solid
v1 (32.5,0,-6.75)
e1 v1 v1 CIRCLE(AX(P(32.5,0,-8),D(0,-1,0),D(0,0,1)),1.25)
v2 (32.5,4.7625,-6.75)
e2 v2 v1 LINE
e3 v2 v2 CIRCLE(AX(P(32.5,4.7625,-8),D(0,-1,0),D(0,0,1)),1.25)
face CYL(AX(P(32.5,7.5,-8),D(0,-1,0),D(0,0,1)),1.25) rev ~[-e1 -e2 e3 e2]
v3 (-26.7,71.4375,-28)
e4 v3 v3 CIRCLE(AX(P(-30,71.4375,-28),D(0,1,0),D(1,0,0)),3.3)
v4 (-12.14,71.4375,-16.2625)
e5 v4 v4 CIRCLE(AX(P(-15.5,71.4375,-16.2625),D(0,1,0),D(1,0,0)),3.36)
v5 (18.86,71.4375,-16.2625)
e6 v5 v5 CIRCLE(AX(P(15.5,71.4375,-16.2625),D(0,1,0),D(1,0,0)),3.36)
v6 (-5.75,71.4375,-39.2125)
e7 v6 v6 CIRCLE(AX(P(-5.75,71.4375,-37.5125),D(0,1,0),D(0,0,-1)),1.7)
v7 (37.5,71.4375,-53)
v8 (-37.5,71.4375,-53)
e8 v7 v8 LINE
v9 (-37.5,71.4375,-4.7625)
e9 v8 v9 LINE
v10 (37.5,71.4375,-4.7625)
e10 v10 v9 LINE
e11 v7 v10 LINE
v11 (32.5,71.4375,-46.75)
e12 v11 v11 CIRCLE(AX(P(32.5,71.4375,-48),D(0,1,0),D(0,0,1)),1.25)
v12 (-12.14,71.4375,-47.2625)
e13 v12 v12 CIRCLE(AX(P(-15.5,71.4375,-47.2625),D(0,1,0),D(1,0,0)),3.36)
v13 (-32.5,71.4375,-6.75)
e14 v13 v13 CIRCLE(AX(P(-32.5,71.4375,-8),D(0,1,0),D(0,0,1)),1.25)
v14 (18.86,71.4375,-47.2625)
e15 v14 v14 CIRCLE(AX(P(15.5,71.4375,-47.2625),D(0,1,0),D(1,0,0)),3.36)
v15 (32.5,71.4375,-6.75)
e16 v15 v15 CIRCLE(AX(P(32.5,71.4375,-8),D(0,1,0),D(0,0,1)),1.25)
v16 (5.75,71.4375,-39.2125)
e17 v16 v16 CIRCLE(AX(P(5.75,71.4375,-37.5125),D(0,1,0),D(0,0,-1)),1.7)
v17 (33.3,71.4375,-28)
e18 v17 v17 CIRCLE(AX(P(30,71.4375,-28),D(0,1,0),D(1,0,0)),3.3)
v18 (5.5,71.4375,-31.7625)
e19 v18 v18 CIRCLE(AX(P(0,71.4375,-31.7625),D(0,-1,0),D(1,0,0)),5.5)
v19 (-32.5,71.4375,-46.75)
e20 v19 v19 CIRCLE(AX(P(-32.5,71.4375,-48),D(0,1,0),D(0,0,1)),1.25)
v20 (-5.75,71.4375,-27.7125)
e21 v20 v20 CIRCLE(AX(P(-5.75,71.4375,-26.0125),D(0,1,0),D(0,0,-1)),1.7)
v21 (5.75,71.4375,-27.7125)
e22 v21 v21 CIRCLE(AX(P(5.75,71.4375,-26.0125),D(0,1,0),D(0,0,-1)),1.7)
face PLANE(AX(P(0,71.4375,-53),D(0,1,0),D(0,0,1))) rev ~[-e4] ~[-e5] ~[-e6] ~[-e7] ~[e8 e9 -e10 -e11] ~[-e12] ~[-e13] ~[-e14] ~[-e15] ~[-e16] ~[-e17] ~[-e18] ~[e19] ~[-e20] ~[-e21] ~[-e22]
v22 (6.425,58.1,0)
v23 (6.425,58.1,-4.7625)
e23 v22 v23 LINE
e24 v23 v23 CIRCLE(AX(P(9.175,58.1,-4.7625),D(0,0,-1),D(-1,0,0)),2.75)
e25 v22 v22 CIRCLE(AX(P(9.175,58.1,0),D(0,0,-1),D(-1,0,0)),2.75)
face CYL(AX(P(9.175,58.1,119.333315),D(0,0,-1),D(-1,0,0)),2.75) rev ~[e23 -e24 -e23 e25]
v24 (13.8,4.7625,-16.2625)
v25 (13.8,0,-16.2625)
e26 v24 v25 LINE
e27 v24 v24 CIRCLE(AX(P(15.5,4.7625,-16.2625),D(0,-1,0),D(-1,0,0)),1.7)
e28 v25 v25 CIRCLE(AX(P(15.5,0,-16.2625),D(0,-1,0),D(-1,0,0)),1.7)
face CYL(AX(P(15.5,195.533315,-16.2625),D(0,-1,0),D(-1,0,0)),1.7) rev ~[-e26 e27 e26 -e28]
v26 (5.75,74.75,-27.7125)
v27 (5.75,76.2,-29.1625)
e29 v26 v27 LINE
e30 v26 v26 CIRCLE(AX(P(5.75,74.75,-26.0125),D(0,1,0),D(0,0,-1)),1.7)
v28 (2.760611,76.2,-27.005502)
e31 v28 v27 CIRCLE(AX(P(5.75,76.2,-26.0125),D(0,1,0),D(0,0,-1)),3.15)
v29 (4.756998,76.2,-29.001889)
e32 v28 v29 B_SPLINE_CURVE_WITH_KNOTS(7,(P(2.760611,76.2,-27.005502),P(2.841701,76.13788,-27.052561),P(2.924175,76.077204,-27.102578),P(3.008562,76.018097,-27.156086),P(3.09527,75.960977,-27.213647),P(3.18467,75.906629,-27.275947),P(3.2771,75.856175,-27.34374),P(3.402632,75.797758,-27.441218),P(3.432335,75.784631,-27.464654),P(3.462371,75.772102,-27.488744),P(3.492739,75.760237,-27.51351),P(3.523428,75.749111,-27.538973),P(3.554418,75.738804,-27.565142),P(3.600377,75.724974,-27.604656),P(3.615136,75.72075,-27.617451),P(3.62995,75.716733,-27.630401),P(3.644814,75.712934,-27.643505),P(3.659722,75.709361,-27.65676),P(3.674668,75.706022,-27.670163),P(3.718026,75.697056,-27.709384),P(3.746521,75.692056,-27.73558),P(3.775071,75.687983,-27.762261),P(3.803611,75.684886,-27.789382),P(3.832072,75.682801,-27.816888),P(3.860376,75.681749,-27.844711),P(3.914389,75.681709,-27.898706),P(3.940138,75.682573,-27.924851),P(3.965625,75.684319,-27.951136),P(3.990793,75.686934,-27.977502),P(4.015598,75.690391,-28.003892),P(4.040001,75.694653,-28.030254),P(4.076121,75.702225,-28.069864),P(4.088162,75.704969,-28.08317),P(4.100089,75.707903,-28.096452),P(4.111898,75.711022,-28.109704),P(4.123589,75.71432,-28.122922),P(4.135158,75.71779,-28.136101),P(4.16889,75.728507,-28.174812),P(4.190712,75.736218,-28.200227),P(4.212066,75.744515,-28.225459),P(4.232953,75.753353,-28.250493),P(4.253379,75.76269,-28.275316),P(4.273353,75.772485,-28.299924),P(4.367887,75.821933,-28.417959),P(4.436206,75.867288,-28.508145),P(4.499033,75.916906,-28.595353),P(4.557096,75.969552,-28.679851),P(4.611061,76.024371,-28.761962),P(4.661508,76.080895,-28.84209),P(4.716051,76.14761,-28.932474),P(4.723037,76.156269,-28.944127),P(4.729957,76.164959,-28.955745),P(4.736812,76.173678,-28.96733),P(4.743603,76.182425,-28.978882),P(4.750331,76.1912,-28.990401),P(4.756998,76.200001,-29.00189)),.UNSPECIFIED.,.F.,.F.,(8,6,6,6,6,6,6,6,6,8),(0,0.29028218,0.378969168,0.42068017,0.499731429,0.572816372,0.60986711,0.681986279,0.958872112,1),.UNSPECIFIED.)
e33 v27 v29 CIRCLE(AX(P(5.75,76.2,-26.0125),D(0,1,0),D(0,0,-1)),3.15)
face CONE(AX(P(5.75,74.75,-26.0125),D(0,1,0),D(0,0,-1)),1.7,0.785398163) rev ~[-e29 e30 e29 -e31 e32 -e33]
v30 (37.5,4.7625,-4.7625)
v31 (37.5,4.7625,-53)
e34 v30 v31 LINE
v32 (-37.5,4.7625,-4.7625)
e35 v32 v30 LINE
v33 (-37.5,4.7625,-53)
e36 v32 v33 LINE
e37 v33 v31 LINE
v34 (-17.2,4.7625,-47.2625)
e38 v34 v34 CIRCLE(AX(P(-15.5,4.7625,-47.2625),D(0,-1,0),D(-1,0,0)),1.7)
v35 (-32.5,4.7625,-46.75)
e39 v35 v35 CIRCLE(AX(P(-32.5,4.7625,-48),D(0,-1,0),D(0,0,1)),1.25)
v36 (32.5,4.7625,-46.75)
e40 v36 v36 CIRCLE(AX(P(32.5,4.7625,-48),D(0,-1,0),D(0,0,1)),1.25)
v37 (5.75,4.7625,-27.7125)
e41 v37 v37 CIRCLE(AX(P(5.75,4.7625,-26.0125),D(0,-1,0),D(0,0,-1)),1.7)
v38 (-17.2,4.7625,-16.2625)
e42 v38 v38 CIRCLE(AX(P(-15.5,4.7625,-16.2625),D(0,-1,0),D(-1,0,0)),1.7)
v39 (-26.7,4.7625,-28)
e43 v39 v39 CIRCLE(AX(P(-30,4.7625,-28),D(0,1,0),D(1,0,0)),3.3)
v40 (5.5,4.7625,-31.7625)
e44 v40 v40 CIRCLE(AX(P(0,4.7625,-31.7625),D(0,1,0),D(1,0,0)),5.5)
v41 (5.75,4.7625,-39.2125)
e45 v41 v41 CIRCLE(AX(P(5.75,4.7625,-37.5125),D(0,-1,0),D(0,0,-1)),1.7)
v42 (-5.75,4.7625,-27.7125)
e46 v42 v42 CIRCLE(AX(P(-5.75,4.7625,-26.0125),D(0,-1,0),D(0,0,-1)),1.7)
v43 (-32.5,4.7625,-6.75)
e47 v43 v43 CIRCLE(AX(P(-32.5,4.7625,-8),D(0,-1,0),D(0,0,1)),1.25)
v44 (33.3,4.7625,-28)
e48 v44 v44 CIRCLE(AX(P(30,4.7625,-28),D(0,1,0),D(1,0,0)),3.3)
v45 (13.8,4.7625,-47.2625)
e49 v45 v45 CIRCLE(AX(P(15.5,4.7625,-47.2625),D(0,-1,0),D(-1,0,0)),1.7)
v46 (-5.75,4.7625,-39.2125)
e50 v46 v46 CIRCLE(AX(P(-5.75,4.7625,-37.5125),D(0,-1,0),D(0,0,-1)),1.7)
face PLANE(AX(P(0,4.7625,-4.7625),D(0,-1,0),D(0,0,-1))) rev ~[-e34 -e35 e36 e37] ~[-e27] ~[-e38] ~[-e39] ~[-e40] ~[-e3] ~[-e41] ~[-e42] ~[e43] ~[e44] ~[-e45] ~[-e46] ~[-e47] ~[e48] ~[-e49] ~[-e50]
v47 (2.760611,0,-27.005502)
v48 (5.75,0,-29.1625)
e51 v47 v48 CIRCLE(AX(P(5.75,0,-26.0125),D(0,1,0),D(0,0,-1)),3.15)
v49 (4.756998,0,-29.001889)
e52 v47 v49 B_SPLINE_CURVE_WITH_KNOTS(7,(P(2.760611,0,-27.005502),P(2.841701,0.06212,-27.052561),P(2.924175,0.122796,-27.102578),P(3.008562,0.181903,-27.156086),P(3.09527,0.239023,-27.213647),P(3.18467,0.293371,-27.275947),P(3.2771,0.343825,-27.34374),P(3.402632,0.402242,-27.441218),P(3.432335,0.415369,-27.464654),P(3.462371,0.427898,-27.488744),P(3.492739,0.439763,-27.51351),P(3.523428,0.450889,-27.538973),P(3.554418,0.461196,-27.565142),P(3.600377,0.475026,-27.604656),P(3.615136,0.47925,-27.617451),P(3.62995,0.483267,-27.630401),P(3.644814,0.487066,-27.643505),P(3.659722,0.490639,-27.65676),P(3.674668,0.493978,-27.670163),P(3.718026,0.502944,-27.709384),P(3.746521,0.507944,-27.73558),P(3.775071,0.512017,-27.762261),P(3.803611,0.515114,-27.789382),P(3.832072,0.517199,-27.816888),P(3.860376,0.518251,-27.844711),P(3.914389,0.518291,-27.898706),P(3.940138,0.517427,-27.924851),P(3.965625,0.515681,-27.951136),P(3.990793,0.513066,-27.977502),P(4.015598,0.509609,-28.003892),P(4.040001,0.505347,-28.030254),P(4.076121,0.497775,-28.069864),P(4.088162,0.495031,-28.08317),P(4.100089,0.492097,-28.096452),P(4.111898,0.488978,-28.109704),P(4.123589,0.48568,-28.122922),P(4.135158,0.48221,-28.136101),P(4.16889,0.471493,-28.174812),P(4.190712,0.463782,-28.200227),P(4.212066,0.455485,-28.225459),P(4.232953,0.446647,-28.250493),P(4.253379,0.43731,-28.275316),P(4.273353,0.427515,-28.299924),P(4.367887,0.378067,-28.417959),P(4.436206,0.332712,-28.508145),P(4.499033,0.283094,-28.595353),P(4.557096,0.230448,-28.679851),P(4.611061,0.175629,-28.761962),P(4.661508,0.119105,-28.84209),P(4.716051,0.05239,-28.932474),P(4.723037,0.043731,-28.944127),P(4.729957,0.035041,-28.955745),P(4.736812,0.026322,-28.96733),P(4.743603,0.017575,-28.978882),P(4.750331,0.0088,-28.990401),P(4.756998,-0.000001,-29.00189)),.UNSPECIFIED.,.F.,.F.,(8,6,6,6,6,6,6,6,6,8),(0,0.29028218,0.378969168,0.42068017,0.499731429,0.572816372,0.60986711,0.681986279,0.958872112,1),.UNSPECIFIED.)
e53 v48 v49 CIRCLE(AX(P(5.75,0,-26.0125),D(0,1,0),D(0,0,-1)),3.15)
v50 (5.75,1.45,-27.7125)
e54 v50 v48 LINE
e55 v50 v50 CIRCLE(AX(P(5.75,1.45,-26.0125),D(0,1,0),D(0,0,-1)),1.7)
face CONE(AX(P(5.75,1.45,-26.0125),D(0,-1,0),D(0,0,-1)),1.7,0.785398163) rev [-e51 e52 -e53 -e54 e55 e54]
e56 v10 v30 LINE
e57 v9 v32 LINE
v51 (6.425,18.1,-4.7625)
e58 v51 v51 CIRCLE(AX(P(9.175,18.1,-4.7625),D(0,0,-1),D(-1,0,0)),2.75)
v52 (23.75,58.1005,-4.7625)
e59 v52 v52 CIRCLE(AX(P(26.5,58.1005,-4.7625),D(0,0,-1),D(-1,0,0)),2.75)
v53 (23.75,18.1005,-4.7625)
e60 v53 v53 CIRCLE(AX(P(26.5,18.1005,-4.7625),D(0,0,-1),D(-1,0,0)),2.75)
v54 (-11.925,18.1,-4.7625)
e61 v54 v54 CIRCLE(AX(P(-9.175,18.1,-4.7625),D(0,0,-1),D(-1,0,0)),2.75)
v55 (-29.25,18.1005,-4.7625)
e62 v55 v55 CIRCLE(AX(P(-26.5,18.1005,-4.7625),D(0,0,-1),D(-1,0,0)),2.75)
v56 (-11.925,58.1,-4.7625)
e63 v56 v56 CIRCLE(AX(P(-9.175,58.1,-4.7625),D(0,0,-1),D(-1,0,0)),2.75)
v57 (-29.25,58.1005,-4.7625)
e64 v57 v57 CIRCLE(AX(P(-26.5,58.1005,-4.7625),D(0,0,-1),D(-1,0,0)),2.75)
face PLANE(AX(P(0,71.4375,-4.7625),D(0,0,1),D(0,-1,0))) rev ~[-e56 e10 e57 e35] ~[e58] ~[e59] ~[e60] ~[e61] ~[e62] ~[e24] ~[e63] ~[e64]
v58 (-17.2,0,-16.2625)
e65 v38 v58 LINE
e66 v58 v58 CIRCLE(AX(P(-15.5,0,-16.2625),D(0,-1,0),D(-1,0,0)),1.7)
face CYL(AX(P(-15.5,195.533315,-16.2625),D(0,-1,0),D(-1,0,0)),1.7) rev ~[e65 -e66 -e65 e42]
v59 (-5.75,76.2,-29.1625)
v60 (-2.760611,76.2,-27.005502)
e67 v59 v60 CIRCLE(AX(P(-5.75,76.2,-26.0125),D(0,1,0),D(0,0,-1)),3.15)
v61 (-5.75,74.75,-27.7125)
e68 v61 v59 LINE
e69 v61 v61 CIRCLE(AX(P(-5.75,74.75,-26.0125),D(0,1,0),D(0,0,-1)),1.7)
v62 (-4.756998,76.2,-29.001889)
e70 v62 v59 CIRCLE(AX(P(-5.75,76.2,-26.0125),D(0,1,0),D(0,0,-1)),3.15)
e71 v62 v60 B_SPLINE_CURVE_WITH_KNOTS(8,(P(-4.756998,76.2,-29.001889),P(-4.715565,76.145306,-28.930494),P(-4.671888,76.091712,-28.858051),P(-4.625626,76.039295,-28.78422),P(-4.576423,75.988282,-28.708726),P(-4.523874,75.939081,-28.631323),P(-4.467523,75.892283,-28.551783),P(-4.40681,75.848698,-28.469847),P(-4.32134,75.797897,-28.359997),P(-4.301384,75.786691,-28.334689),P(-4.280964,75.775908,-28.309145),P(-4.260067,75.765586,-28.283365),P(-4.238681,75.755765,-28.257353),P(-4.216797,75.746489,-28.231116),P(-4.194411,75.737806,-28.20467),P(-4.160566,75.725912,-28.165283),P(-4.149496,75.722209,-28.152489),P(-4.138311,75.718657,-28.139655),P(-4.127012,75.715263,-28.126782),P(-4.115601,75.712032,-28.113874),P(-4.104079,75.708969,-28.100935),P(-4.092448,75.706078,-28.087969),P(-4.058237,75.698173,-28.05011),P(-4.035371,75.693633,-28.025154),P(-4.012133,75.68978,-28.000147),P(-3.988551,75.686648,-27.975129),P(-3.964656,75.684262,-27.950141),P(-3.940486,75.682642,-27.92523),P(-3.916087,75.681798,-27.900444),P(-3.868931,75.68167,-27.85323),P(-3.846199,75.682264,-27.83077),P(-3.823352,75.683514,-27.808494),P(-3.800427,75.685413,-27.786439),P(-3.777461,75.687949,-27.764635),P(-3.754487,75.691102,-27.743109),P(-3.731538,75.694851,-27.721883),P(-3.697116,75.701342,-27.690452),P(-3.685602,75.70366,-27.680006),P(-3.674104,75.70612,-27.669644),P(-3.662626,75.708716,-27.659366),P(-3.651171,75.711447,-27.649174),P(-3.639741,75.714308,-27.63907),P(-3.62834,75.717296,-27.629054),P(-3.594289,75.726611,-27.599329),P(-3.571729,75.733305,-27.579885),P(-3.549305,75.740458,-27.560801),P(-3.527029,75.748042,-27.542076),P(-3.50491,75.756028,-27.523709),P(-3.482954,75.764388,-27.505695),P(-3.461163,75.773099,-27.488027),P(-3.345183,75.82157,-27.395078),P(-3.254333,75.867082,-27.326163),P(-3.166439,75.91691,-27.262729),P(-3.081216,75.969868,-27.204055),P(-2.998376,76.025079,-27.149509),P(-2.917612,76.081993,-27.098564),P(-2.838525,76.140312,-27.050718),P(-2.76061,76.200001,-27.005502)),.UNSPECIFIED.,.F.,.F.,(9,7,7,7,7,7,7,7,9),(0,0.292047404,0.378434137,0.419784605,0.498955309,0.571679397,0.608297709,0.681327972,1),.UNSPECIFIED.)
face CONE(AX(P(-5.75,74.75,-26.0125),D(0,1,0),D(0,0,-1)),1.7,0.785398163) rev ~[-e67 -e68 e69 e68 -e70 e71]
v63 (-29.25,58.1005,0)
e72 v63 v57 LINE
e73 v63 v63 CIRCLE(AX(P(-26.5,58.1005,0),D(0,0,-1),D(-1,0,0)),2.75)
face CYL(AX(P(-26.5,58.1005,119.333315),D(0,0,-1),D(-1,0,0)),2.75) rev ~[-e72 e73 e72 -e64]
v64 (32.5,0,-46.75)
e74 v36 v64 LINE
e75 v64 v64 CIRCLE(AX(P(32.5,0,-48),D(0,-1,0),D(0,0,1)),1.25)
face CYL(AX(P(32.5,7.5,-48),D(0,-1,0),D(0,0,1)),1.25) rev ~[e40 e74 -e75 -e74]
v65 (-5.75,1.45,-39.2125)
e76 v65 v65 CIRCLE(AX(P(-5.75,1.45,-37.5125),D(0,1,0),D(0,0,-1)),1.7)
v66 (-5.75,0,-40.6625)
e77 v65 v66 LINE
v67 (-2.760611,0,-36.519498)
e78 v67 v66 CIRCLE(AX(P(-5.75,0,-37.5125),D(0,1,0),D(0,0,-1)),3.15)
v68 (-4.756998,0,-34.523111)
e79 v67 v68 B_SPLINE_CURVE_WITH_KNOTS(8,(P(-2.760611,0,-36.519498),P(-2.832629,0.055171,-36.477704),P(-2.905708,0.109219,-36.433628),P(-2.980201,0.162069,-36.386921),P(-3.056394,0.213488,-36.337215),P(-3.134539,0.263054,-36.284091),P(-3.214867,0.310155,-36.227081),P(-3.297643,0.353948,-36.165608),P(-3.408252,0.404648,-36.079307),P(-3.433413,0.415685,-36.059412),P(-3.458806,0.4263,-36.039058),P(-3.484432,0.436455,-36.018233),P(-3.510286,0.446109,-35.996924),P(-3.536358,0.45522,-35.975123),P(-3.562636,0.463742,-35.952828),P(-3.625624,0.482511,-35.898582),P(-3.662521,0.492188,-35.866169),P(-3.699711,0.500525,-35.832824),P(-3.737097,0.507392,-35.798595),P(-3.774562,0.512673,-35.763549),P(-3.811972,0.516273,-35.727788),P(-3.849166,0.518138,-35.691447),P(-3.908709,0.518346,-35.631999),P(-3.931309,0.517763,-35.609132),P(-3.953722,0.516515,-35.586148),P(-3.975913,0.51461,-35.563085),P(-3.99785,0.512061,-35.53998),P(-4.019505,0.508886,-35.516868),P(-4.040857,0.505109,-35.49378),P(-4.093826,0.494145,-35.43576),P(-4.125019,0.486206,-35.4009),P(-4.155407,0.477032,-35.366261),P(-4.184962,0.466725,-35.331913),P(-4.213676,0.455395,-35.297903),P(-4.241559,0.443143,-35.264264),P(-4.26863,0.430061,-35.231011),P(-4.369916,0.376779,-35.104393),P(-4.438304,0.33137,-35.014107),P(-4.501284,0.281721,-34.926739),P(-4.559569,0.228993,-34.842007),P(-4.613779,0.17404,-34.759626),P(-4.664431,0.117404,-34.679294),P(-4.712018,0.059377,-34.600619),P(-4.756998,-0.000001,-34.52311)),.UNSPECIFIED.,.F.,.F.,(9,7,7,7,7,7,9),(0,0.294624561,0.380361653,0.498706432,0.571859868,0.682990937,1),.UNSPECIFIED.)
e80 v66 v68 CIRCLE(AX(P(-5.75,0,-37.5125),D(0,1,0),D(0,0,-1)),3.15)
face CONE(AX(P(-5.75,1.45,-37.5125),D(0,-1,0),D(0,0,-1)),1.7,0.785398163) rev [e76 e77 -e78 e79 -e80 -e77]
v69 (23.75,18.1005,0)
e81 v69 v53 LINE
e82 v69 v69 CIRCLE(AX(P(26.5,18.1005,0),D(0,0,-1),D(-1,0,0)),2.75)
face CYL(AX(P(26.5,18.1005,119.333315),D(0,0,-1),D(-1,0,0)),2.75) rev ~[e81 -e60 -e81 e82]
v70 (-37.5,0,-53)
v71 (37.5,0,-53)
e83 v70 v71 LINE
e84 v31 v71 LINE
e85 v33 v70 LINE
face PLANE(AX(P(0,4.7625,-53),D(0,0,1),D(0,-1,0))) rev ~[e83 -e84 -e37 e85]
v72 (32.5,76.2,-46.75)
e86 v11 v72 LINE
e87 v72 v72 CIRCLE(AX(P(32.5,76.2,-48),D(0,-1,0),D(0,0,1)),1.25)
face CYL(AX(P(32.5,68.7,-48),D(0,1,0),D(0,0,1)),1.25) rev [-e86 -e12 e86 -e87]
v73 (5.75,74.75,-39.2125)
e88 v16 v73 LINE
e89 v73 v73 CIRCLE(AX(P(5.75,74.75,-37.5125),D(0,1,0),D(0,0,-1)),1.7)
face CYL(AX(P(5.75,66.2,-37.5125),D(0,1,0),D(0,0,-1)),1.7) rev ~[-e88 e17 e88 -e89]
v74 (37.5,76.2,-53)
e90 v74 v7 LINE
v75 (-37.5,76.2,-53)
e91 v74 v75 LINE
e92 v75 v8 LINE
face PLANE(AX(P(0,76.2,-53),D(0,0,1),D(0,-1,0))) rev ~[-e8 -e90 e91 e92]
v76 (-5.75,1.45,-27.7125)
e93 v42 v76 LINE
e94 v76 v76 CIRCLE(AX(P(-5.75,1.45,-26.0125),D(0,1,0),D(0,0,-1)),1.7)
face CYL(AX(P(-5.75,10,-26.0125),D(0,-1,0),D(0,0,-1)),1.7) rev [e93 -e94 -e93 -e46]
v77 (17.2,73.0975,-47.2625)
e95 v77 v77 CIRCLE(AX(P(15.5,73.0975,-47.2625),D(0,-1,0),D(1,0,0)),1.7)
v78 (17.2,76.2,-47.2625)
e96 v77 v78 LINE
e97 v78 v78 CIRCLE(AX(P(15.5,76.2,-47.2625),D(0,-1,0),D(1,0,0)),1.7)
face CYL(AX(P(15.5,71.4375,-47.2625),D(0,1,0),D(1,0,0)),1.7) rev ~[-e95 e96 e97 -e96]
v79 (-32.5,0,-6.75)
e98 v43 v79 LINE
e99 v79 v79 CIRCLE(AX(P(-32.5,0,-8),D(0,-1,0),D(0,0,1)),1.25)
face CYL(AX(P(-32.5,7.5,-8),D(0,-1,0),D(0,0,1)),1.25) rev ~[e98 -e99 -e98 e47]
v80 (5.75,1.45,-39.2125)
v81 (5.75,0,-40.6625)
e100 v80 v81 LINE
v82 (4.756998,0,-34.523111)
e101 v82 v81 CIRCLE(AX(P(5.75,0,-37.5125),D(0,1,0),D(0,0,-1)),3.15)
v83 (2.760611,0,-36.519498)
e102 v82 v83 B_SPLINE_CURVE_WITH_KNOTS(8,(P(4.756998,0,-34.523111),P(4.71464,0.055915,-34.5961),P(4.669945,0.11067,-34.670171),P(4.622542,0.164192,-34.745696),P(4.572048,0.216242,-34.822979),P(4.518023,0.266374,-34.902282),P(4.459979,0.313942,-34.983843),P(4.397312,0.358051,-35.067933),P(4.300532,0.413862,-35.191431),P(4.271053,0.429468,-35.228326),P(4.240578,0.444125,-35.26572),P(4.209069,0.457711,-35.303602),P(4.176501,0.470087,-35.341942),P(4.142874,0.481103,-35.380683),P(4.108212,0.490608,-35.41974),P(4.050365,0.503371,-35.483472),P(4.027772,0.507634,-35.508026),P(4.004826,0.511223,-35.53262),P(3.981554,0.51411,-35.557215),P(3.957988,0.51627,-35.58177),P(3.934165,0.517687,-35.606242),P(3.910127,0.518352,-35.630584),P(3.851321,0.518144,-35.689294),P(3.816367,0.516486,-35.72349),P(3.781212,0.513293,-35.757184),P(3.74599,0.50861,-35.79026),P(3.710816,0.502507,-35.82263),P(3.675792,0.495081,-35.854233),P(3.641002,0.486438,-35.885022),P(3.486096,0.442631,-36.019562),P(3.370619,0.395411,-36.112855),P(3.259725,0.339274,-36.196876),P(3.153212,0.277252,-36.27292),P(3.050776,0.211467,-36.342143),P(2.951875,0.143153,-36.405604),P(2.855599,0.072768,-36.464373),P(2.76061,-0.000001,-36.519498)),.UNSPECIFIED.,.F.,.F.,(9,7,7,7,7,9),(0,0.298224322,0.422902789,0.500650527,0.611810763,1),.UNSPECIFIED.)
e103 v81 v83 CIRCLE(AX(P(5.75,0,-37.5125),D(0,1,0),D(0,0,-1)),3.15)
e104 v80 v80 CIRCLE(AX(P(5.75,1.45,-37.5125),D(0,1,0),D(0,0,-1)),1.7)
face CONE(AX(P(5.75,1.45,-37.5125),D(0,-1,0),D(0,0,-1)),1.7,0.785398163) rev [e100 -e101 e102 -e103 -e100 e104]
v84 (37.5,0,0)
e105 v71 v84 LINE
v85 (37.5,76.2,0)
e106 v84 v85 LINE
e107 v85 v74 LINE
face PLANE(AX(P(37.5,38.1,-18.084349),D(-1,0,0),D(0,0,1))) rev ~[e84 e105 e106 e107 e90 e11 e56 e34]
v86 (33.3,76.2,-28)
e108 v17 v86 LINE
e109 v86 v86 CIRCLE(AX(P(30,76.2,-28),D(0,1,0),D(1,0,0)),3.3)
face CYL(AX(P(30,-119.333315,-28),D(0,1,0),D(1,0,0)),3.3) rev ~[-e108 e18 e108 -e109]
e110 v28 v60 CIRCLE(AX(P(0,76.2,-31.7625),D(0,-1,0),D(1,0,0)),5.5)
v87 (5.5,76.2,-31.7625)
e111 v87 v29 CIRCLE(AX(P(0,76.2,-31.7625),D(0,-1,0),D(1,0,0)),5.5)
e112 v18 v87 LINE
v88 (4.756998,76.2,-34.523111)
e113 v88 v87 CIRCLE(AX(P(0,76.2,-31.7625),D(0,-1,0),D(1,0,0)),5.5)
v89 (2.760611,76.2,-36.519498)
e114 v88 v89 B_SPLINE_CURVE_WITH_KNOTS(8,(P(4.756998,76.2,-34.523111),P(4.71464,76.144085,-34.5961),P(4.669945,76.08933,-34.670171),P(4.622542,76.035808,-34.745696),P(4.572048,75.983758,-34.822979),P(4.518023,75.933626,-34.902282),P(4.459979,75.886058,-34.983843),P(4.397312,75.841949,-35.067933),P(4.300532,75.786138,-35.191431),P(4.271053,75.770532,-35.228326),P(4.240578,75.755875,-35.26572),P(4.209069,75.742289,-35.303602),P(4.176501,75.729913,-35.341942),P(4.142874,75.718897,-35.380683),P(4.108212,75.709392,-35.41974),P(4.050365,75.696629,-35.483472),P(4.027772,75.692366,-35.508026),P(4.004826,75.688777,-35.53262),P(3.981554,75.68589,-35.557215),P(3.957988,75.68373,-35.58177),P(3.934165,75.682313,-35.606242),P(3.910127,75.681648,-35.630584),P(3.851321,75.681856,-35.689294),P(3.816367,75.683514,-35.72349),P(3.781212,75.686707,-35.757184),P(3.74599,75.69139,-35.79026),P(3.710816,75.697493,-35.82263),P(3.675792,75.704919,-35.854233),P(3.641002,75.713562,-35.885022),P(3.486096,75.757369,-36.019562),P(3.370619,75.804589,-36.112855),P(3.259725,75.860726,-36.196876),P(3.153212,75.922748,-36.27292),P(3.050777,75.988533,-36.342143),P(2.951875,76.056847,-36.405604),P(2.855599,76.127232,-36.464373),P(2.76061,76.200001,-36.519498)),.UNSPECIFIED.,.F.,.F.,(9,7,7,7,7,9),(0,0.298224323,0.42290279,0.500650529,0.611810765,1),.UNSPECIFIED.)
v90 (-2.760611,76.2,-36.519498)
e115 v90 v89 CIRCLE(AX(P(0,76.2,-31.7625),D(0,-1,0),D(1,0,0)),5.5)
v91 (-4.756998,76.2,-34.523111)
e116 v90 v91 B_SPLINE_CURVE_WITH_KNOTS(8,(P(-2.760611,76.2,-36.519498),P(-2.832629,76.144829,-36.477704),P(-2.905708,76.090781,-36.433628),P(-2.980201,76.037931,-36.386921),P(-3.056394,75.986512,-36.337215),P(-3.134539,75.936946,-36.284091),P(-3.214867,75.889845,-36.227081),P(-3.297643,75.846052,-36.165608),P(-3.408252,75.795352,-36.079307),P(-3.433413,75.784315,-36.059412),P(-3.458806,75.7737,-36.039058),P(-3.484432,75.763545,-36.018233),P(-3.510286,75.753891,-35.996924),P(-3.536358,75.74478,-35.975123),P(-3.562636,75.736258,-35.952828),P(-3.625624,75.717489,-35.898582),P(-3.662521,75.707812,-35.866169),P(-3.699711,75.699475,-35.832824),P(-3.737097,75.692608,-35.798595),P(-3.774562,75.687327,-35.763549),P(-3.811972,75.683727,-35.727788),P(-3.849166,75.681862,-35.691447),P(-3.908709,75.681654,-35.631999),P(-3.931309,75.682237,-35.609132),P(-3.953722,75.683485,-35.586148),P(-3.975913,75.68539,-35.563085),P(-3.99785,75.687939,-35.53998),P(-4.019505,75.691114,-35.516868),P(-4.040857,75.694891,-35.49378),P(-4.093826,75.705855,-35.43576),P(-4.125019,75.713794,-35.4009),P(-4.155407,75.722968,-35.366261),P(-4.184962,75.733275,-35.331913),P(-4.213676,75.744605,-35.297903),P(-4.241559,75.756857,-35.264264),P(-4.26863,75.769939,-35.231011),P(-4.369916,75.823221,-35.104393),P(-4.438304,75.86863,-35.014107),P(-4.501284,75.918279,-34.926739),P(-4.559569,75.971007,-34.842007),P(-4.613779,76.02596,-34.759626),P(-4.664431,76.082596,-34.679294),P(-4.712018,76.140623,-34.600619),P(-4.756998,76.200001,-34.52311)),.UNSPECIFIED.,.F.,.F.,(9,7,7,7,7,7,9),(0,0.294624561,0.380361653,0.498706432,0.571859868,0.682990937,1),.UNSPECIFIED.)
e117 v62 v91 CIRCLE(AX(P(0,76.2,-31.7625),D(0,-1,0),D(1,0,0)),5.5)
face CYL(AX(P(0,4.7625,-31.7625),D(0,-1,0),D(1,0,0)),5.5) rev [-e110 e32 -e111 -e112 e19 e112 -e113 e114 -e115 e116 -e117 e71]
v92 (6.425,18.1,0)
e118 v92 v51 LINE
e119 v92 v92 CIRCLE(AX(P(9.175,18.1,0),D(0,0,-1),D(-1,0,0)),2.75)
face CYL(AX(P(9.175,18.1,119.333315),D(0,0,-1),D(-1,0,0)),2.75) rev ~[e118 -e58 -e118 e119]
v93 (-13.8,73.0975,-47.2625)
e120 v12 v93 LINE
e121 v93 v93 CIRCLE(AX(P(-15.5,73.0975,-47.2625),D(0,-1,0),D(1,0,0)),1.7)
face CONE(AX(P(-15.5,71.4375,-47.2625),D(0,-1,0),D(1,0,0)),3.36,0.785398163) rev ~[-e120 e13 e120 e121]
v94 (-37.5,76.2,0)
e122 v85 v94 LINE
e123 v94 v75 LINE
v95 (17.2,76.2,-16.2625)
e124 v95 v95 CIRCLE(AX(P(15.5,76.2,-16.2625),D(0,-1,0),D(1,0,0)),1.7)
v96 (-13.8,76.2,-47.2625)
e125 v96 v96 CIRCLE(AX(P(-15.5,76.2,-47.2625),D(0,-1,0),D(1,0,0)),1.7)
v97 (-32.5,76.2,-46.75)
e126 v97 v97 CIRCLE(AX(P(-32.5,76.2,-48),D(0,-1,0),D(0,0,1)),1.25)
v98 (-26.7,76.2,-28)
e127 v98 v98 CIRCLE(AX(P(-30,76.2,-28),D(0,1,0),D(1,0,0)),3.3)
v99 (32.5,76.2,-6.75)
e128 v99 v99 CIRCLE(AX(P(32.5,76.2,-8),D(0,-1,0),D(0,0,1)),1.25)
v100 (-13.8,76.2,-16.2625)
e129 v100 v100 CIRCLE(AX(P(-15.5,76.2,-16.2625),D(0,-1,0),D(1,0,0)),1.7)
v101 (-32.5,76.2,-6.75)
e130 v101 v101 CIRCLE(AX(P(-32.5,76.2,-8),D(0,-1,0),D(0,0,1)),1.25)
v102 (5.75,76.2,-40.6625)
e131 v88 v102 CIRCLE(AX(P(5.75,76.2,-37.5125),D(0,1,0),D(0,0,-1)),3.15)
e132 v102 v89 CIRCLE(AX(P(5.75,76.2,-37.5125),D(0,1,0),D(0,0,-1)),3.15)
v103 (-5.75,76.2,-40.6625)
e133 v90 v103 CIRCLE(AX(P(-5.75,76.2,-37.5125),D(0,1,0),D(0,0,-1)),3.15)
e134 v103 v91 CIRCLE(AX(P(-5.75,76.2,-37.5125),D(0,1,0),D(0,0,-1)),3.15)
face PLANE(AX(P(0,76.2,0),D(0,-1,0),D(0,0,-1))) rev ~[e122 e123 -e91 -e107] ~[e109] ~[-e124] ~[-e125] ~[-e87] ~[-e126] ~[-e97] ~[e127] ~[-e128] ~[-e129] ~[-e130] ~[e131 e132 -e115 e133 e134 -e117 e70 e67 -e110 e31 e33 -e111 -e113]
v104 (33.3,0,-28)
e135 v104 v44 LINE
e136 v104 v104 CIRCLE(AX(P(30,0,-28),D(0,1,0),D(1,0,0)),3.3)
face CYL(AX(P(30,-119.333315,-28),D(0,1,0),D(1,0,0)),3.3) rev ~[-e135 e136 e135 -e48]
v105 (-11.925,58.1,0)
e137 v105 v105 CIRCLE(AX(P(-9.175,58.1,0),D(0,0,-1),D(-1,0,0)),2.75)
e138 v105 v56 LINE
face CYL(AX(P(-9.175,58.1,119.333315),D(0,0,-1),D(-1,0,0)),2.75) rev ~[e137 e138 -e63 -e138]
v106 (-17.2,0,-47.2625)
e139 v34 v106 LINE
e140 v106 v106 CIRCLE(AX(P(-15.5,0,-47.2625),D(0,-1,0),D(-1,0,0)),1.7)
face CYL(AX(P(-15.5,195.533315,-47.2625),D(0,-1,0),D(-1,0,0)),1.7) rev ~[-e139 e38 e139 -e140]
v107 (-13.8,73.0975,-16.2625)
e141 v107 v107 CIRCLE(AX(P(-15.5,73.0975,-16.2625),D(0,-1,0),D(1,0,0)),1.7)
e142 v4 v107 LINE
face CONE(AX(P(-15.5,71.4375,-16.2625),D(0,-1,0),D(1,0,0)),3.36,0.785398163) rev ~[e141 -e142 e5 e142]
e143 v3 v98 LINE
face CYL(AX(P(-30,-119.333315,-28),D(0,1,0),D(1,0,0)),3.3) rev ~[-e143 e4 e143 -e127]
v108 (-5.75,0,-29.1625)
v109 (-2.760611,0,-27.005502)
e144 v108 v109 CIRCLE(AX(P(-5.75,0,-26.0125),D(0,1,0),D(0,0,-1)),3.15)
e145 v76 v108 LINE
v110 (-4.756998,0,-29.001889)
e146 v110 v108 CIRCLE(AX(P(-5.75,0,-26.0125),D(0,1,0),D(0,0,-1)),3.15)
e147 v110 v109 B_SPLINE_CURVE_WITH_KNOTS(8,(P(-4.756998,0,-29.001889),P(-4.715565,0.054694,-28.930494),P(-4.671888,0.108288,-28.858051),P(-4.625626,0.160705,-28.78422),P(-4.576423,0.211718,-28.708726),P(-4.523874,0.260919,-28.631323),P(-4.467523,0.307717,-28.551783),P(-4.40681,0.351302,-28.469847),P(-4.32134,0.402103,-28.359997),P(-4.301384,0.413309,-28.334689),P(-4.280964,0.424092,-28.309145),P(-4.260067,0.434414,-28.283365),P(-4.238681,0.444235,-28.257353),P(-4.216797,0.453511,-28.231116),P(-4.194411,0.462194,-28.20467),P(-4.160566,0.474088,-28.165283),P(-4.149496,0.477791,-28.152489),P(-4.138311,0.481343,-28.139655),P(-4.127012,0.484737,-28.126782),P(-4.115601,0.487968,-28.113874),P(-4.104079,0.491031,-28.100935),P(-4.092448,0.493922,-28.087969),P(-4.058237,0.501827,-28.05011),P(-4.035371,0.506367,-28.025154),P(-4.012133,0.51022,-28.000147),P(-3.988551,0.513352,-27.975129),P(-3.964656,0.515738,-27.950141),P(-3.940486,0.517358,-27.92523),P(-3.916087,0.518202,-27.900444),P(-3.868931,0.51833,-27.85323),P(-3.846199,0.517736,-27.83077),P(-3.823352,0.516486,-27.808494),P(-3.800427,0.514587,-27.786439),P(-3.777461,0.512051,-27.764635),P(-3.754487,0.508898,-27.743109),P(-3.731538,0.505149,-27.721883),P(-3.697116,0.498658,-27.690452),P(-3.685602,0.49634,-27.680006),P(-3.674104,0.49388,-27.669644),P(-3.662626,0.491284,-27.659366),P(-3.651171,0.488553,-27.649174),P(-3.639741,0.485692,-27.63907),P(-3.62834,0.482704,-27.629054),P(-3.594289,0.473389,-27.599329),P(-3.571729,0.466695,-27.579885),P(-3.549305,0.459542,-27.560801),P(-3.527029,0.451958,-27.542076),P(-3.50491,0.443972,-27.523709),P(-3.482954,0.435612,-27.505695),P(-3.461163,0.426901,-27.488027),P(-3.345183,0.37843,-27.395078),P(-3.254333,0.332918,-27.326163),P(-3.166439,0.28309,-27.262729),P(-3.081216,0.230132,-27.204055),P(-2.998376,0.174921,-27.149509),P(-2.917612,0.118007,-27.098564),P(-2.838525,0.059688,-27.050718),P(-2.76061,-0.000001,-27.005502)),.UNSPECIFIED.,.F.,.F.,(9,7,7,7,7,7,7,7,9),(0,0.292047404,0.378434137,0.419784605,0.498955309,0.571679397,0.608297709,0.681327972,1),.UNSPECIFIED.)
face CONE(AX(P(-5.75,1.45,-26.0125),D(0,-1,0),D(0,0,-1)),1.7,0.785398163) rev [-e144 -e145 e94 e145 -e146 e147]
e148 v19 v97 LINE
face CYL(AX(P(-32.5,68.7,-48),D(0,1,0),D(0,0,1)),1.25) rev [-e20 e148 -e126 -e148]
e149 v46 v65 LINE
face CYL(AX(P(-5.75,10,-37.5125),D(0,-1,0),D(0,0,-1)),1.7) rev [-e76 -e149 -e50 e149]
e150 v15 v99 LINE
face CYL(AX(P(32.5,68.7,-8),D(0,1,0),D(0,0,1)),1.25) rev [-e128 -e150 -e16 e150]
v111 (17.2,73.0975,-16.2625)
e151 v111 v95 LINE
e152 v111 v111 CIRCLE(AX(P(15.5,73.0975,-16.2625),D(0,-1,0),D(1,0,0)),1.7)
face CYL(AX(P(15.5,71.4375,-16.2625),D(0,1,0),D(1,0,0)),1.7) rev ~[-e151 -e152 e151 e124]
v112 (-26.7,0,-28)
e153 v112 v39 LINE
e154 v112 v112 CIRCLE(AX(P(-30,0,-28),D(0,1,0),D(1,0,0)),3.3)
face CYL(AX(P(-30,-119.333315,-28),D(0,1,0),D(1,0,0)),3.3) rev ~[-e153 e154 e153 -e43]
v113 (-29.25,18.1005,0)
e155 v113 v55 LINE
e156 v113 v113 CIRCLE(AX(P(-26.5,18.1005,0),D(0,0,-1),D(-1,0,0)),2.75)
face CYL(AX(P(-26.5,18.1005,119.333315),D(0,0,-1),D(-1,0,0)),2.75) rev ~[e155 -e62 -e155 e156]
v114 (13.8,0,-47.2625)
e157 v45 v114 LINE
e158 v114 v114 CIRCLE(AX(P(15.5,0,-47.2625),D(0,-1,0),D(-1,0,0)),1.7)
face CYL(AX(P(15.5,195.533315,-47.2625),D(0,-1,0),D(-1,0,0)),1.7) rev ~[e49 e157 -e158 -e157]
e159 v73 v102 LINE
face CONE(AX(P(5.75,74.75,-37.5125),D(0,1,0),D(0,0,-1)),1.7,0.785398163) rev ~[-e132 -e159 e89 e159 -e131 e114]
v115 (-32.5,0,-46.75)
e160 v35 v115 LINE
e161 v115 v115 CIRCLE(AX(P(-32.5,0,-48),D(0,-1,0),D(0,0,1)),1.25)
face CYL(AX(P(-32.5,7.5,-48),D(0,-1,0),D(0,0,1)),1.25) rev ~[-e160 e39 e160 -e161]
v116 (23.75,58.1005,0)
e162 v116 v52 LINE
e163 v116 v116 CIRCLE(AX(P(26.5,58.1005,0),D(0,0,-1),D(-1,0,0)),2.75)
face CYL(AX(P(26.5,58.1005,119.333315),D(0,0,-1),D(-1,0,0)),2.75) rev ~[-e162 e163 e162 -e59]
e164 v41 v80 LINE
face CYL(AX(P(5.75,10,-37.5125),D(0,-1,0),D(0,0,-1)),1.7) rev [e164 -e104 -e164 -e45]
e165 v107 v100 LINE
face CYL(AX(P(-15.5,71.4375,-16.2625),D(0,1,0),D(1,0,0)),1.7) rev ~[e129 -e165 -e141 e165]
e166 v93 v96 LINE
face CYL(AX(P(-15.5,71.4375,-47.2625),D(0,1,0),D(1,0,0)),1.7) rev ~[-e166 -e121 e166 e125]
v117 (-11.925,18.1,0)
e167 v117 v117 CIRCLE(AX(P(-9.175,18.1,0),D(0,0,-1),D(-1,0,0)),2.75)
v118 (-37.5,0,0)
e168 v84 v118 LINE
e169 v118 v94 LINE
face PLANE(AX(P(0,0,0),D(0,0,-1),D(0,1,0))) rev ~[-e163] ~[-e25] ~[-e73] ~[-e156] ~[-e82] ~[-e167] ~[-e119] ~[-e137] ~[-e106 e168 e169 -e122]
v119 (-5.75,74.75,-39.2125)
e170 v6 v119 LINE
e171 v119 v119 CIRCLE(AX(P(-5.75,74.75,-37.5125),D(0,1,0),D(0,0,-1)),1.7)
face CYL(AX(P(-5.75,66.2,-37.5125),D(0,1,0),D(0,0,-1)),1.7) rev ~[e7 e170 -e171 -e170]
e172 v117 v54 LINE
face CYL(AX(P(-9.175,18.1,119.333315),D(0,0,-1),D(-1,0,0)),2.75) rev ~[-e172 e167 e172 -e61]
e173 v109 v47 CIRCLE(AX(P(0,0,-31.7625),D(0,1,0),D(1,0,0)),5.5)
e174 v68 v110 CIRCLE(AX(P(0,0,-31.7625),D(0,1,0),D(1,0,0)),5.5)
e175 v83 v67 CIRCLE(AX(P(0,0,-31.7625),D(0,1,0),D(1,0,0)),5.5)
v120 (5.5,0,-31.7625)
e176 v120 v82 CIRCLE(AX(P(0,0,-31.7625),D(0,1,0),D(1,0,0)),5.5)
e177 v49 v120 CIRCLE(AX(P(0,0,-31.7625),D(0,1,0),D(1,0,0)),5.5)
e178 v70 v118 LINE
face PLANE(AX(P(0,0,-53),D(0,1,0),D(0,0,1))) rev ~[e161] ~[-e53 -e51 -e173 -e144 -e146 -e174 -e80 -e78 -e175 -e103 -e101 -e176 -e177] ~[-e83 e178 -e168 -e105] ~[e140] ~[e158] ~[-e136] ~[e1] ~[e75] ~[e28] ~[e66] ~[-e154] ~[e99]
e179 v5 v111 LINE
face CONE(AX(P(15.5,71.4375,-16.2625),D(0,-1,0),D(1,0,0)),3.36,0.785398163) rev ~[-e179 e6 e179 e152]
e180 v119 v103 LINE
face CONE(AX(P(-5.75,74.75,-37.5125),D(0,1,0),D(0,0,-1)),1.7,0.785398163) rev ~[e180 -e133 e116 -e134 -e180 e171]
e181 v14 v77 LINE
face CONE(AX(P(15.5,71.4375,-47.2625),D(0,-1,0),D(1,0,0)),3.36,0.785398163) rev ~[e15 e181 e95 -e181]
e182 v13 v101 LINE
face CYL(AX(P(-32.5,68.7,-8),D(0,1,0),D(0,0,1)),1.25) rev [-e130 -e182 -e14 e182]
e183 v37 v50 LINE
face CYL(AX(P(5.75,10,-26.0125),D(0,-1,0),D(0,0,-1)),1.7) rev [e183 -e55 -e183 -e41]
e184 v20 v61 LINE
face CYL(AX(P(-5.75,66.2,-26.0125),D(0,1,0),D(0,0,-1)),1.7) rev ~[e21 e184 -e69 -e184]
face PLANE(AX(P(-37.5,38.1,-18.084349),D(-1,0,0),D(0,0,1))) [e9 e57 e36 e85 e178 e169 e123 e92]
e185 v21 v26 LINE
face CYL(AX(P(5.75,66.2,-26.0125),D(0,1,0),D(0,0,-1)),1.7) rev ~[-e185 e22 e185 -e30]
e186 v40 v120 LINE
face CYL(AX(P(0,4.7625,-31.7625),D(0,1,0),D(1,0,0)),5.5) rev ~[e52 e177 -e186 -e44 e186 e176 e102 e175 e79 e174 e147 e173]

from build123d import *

# Parameters (mm, degrees)
EXTRUDE_THIN1_DEPTH                            = 37.5
SKETCH4_R                                      = 5.5
CUT_EXTRUDE1_DEPTH                             = 72.4375
CUT_EXTRUDE1_DEPTH_BACK                        = 5.7625
M5_CLEARANCE_HOLE1_D                           = 5.5
M6_CLEARANCE_HOLE2_D                           = 6.6
CSK_FOR_M3_FLAT_HEAD_MACHINE_SCREW1_AT_2_COUNT = 2
CSK_FOR_M3_FLAT_HEAD_MACHINE_SCREW1_AT_2_PITCH = 11.5
CSK_FOR_M3_FLAT_HEAD_MACHINE_SCREW1_AT_3_COUNT = 2
CSK_FOR_M3_FLAT_HEAD_MACHINE_SCREW1_AT_3_PITCH = 16.263455967
CSK_FOR_M3_FLAT_HEAD_MACHINE_SCREW1_AT_4_COUNT = 2
CSK_FOR_M3_FLAT_HEAD_MACHINE_SCREW1_AT_4_PITCH = 11.5
CSK_FOR_M3_SFHCS2_D                            = 3.4
CSK_FOR_M3_SFHCS2_DEPTH                        = 10
CSK_FOR_M3_SFHCS2_CSINK_D                      = 6.72
CSK_FOR_M3_SFHCS2_CSINK_ANGLE                  = 90
CSK_FOR_M3_SFHCS2_TIP                          = 1.021463052
M3_CLEARANCE_HOLE1_D                           = 3.4
M3X0_5_TAPPED_HOLE2_AT_2_COUNT                 = 2
M3X0_5_TAPPED_HOLE2_AT_2_PITCH                 = 65
M3X0_5_TAPPED_HOLE2_AT_3_COUNT                 = 2
M3X0_5_TAPPED_HOLE2_AT_3_PITCH                 = 76.321687612
M3X0_5_TAPPED_HOLE2_AT_4_COUNT                 = 2
M3X0_5_TAPPED_HOLE2_AT_4_PITCH                 = 40
M5_CLEARANCE_HOLE2_D                           = 5.5


with BuildPart() as part:
    # Sketch3 → Extrude-Thin1 (new body, symmetric)
    with BuildSketch(Plane(origin=(0, 0, 0), x_dir=(0, 0, -1), z_dir=(1, 0, 0))):
        Polygon((53, 0), (0, 0), (0, 76.2), (53, 76.2), (53, 71.4375), (4.7625, 71.4375), (4.7625, 4.7625), (53, 4.7625), align=None)
    extrude(amount=EXTRUDE_THIN1_DEPTH, both=True)

    # Sketch4 → Cut-Extrude1 (cut, two sides)
    with BuildSketch(Plane(origin=(0, 4.7625, 0), x_dir=(1, 0, 0), z_dir=(0, 1, 0))) as cut_extrude1_sk:
        with Locations((0, 31.7625)):
            Circle(SKETCH4_R)
    extrude(amount=CUT_EXTRUDE1_DEPTH, mode=Mode.SUBTRACT)
    extrude(cut_extrude1_sk.sketch, amount=-CUT_EXTRUDE1_DEPTH_BACK, mode=Mode.SUBTRACT)

    # M5 Clearance Hole1 (through all)
    with Locations(Plane.XY):
        with Locations((-26.5, 58.1005), (26.5, 58.1005), (26.5, 18.1005), (-26.5, 18.1005)):
            Hole(M5_CLEARANCE_HOLE1_D / 2)

    # M6 Clearance Hole2 (through all)
    with Locations(Plane(origin=(0, 0, 0), x_dir=(-1, 0, 0), z_dir=(0, -1, 0))):
        with Locations((30, 28), (-30, 28)):
            Hole(M6_CLEARANCE_HOLE2_D / 2)

    # Sketch11 → CSK for M3 Flat Head Machine Screw1 (revolve, cut)
    with BuildSketch(Plane(origin=(-5.75, 0, -26.0125), x_dir=(0, 0, -1), z_dir=(1, 0, 0))):
        Polygon((0, 0), (0, 11.021463052), (1.7, 10), (1.7, 1.45), (3.15, 0), align=None)
    csk_for_m3_flat_head_machine_screw1 = revolve(axis=Axis((-5.75, -6.35, -26.0125), (0, 1, 0)), mode=Mode.SUBTRACT)

    # CSK for M3 Flat Head Machine Screw1 at 2: CSK for M3 Flat Head Machine Screw1 ×2
    with Locations(*[(i * CSK_FOR_M3_FLAT_HEAD_MACHINE_SCREW1_AT_2_PITCH, 0, 0) for i in range(1, CSK_FOR_M3_FLAT_HEAD_MACHINE_SCREW1_AT_2_COUNT)]):
        add(csk_for_m3_flat_head_machine_screw1, mode=Mode.SUBTRACT)

    # CSK for M3 Flat Head Machine Screw1 at 3: CSK for M3 Flat Head Machine Screw1 ×2
    with Locations(*[Vector(0.707106781, 0, -0.707106781) * (i * CSK_FOR_M3_FLAT_HEAD_MACHINE_SCREW1_AT_3_PITCH) for i in range(1, CSK_FOR_M3_FLAT_HEAD_MACHINE_SCREW1_AT_3_COUNT)]):
        add(csk_for_m3_flat_head_machine_screw1, mode=Mode.SUBTRACT)

    # CSK for M3 Flat Head Machine Screw1 at 4: CSK for M3 Flat Head Machine Screw1 ×2
    with Locations(*[(0, 0, -i * CSK_FOR_M3_FLAT_HEAD_MACHINE_SCREW1_AT_4_PITCH) for i in range(1, CSK_FOR_M3_FLAT_HEAD_MACHINE_SCREW1_AT_4_COUNT)]):
        add(csk_for_m3_flat_head_machine_screw1, mode=Mode.SUBTRACT)

    # Mirror1: CSK for M3 Flat Head Machine Screw1 across plane
    add(csk_for_m3_flat_head_machine_screw1.mirror(Plane(origin=(0, 38.1, 0), x_dir=(0, 0, 1), z_dir=(0, -1, 0))), mode=Mode.SUBTRACT)

    # Mirror1 copy 1 sketch → Mirror1 copy 1 (revolve, cut)
    with BuildSketch(Plane(origin=(5.75, 76.2, -26.0125), x_dir=(0, 0, -1), z_dir=(1, 0, 0))):
        Polygon((0, 0), (0, -11.021463052), (1.7, -10), (1.7, -1.45), (3.15, 0), align=None)
    revolve(axis=Axis((5.75, 82.55, -26.0125), (0, 1, 0)), mode=Mode.SUBTRACT)

    # Mirror1 copy 2 sketch → Mirror1 copy 2 (revolve, cut)
    with BuildSketch(Plane(origin=(5.75, 76.2, -37.5125), x_dir=(0, 0, -1), z_dir=(1, 0, 0))):
        Polygon((0, 0), (0, -11.021463052), (1.7, -10), (1.7, -1.45), (3.15, 0), align=None)
    revolve(axis=Axis((5.75, 82.55, -37.5125), (0, 1, 0)), mode=Mode.SUBTRACT)

    # Mirror1 copy 3 sketch → Mirror1 copy 3 (revolve, cut)
    with BuildSketch(Plane(origin=(-5.75, 76.2, -37.5125), x_dir=(0, 0, -1), z_dir=(1, 0, 0))):
        Polygon((0, 0), (0, -11.021463052), (1.7, -10), (1.7, -1.45), (3.15, 0), align=None)
    revolve(axis=Axis((-5.75, 82.55, -37.5125), (0, 1, 0)), mode=Mode.SUBTRACT)

    # CSK for M3 SFHCS2
    with Locations(Plane(origin=(0, 71.4375, 0), x_dir=(-1, 0, 0), z_dir=(0, -1, 0))):
        with Locations((15.5, 47.2625), (15.5, 16.2625), (-15.5, 16.2625), (-15.5, 47.2625)):
            CounterSinkHole(CSK_FOR_M3_SFHCS2_D / 2, CSK_FOR_M3_SFHCS2_CSINK_D / 2, depth=CSK_FOR_M3_SFHCS2_DEPTH, counter_sink_angle=CSK_FOR_M3_SFHCS2_CSINK_ANGLE)
            with Locations((0, 0, -(CSK_FOR_M3_SFHCS2_DEPTH + CSK_FOR_M3_SFHCS2_TIP / 2))):  # 118° drill point
                Cone(0, CSK_FOR_M3_SFHCS2_D / 2, CSK_FOR_M3_SFHCS2_TIP, mode=Mode.SUBTRACT)

    # M3 Clearance Hole1 (through all)
    with Locations(Plane(origin=(0, 76.2, 0), x_dir=(1, 0, 0), z_dir=(0, 1, 0))):
        with Locations((-15.5, 47.2625), (15.5, 47.2625), (15.5, 16.2625), (-15.5, 16.2625)):
            Hole(M3_CLEARANCE_HOLE1_D / 2)

    # Sketch19 → M3x0.5 Tapped Hole2 (revolve, cut)
    with BuildSketch(Plane(origin=(-32.5, 76.2, -48), x_dir=(0, 0, 1), z_dir=(1, 0, 0))):
        Polygon((0, 0), (0, 8.251075774), (1.25, 7.5), (1.25, 0), align=None)
    m3x0_5_tapped_hole2 = revolve(axis=Axis((-32.5, 82.55, -48), (0, -1, 0)), mode=Mode.SUBTRACT)

    # M3x0.5 Tapped Hole2 at 2: M3x0.5 Tapped Hole2 ×2
    with Locations(*[(i * M3X0_5_TAPPED_HOLE2_AT_2_PITCH, 0, 0) for i in range(1, M3X0_5_TAPPED_HOLE2_AT_2_COUNT)]):
        add(m3x0_5_tapped_hole2, mode=Mode.SUBTRACT)

    # M3x0.5 Tapped Hole2 at 3: M3x0.5 Tapped Hole2 ×2
    with Locations(*[Vector(0.851658317, 0, 0.524097426) * (i * M3X0_5_TAPPED_HOLE2_AT_3_PITCH) for i in range(1, M3X0_5_TAPPED_HOLE2_AT_3_COUNT)]):
        add(m3x0_5_tapped_hole2, mode=Mode.SUBTRACT)

    # M3x0.5 Tapped Hole2 at 4: M3x0.5 Tapped Hole2 ×2
    with Locations(*[(0, 0, i * M3X0_5_TAPPED_HOLE2_AT_4_PITCH) for i in range(1, M3X0_5_TAPPED_HOLE2_AT_4_COUNT)]):
        add(m3x0_5_tapped_hole2, mode=Mode.SUBTRACT)

    # Mirror2: M3x0.5 Tapped Hole2 across plane
    add(m3x0_5_tapped_hole2.mirror(Plane(origin=(0, 38.1, 0), x_dir=(0, 0, 1), z_dir=(0, -1, 0))), mode=Mode.SUBTRACT)

    # Mirror2 copy 1 sketch → Mirror2 copy 1 (revolve, cut)
    with BuildSketch(Plane(origin=(32.5, 0, -48), x_dir=(0, 0, 1), z_dir=(1, 0, 0))):
        Polygon((0, 0), (0, -8.251075774), (1.25, -7.5), (1.25, 0), align=None)
    revolve(axis=Axis((32.5, -6.35, -48), (0, -1, 0)), mode=Mode.SUBTRACT)

    # Mirror2 copy 2 sketch → Mirror2 copy 2 (revolve, cut)
    with BuildSketch(Plane(origin=(32.5, 0, -8), x_dir=(0, 0, 1), z_dir=(1, 0, 0))):
        Polygon((0, 0), (0, -8.251075774), (1.25, -7.5), (1.25, 0), align=None)
    revolve(axis=Axis((32.5, -6.35, -8), (0, -1, 0)), mode=Mode.SUBTRACT)

    # Mirror2 copy 3 sketch → Mirror2 copy 3 (revolve, cut)
    with BuildSketch(Plane(origin=(-32.5, 0, -8), x_dir=(0, 0, 1), z_dir=(1, 0, 0))):
        Polygon((0, 0), (0, -8.251075774), (1.25, -7.5), (1.25, 0), align=None)
    revolve(axis=Axis((-32.5, -6.35, -8), (0, -1, 0)), mode=Mode.SUBTRACT)

    # M5 Clearance Hole2 (through all)
    with Locations(Plane.XY):
        with Locations((-9.175, 18.1), (-9.175, 58.1), (9.175, 58.1), (9.175, 18.1)):
            Hole(M5_CLEARANCE_HOLE2_D / 2)


solid = part.part
